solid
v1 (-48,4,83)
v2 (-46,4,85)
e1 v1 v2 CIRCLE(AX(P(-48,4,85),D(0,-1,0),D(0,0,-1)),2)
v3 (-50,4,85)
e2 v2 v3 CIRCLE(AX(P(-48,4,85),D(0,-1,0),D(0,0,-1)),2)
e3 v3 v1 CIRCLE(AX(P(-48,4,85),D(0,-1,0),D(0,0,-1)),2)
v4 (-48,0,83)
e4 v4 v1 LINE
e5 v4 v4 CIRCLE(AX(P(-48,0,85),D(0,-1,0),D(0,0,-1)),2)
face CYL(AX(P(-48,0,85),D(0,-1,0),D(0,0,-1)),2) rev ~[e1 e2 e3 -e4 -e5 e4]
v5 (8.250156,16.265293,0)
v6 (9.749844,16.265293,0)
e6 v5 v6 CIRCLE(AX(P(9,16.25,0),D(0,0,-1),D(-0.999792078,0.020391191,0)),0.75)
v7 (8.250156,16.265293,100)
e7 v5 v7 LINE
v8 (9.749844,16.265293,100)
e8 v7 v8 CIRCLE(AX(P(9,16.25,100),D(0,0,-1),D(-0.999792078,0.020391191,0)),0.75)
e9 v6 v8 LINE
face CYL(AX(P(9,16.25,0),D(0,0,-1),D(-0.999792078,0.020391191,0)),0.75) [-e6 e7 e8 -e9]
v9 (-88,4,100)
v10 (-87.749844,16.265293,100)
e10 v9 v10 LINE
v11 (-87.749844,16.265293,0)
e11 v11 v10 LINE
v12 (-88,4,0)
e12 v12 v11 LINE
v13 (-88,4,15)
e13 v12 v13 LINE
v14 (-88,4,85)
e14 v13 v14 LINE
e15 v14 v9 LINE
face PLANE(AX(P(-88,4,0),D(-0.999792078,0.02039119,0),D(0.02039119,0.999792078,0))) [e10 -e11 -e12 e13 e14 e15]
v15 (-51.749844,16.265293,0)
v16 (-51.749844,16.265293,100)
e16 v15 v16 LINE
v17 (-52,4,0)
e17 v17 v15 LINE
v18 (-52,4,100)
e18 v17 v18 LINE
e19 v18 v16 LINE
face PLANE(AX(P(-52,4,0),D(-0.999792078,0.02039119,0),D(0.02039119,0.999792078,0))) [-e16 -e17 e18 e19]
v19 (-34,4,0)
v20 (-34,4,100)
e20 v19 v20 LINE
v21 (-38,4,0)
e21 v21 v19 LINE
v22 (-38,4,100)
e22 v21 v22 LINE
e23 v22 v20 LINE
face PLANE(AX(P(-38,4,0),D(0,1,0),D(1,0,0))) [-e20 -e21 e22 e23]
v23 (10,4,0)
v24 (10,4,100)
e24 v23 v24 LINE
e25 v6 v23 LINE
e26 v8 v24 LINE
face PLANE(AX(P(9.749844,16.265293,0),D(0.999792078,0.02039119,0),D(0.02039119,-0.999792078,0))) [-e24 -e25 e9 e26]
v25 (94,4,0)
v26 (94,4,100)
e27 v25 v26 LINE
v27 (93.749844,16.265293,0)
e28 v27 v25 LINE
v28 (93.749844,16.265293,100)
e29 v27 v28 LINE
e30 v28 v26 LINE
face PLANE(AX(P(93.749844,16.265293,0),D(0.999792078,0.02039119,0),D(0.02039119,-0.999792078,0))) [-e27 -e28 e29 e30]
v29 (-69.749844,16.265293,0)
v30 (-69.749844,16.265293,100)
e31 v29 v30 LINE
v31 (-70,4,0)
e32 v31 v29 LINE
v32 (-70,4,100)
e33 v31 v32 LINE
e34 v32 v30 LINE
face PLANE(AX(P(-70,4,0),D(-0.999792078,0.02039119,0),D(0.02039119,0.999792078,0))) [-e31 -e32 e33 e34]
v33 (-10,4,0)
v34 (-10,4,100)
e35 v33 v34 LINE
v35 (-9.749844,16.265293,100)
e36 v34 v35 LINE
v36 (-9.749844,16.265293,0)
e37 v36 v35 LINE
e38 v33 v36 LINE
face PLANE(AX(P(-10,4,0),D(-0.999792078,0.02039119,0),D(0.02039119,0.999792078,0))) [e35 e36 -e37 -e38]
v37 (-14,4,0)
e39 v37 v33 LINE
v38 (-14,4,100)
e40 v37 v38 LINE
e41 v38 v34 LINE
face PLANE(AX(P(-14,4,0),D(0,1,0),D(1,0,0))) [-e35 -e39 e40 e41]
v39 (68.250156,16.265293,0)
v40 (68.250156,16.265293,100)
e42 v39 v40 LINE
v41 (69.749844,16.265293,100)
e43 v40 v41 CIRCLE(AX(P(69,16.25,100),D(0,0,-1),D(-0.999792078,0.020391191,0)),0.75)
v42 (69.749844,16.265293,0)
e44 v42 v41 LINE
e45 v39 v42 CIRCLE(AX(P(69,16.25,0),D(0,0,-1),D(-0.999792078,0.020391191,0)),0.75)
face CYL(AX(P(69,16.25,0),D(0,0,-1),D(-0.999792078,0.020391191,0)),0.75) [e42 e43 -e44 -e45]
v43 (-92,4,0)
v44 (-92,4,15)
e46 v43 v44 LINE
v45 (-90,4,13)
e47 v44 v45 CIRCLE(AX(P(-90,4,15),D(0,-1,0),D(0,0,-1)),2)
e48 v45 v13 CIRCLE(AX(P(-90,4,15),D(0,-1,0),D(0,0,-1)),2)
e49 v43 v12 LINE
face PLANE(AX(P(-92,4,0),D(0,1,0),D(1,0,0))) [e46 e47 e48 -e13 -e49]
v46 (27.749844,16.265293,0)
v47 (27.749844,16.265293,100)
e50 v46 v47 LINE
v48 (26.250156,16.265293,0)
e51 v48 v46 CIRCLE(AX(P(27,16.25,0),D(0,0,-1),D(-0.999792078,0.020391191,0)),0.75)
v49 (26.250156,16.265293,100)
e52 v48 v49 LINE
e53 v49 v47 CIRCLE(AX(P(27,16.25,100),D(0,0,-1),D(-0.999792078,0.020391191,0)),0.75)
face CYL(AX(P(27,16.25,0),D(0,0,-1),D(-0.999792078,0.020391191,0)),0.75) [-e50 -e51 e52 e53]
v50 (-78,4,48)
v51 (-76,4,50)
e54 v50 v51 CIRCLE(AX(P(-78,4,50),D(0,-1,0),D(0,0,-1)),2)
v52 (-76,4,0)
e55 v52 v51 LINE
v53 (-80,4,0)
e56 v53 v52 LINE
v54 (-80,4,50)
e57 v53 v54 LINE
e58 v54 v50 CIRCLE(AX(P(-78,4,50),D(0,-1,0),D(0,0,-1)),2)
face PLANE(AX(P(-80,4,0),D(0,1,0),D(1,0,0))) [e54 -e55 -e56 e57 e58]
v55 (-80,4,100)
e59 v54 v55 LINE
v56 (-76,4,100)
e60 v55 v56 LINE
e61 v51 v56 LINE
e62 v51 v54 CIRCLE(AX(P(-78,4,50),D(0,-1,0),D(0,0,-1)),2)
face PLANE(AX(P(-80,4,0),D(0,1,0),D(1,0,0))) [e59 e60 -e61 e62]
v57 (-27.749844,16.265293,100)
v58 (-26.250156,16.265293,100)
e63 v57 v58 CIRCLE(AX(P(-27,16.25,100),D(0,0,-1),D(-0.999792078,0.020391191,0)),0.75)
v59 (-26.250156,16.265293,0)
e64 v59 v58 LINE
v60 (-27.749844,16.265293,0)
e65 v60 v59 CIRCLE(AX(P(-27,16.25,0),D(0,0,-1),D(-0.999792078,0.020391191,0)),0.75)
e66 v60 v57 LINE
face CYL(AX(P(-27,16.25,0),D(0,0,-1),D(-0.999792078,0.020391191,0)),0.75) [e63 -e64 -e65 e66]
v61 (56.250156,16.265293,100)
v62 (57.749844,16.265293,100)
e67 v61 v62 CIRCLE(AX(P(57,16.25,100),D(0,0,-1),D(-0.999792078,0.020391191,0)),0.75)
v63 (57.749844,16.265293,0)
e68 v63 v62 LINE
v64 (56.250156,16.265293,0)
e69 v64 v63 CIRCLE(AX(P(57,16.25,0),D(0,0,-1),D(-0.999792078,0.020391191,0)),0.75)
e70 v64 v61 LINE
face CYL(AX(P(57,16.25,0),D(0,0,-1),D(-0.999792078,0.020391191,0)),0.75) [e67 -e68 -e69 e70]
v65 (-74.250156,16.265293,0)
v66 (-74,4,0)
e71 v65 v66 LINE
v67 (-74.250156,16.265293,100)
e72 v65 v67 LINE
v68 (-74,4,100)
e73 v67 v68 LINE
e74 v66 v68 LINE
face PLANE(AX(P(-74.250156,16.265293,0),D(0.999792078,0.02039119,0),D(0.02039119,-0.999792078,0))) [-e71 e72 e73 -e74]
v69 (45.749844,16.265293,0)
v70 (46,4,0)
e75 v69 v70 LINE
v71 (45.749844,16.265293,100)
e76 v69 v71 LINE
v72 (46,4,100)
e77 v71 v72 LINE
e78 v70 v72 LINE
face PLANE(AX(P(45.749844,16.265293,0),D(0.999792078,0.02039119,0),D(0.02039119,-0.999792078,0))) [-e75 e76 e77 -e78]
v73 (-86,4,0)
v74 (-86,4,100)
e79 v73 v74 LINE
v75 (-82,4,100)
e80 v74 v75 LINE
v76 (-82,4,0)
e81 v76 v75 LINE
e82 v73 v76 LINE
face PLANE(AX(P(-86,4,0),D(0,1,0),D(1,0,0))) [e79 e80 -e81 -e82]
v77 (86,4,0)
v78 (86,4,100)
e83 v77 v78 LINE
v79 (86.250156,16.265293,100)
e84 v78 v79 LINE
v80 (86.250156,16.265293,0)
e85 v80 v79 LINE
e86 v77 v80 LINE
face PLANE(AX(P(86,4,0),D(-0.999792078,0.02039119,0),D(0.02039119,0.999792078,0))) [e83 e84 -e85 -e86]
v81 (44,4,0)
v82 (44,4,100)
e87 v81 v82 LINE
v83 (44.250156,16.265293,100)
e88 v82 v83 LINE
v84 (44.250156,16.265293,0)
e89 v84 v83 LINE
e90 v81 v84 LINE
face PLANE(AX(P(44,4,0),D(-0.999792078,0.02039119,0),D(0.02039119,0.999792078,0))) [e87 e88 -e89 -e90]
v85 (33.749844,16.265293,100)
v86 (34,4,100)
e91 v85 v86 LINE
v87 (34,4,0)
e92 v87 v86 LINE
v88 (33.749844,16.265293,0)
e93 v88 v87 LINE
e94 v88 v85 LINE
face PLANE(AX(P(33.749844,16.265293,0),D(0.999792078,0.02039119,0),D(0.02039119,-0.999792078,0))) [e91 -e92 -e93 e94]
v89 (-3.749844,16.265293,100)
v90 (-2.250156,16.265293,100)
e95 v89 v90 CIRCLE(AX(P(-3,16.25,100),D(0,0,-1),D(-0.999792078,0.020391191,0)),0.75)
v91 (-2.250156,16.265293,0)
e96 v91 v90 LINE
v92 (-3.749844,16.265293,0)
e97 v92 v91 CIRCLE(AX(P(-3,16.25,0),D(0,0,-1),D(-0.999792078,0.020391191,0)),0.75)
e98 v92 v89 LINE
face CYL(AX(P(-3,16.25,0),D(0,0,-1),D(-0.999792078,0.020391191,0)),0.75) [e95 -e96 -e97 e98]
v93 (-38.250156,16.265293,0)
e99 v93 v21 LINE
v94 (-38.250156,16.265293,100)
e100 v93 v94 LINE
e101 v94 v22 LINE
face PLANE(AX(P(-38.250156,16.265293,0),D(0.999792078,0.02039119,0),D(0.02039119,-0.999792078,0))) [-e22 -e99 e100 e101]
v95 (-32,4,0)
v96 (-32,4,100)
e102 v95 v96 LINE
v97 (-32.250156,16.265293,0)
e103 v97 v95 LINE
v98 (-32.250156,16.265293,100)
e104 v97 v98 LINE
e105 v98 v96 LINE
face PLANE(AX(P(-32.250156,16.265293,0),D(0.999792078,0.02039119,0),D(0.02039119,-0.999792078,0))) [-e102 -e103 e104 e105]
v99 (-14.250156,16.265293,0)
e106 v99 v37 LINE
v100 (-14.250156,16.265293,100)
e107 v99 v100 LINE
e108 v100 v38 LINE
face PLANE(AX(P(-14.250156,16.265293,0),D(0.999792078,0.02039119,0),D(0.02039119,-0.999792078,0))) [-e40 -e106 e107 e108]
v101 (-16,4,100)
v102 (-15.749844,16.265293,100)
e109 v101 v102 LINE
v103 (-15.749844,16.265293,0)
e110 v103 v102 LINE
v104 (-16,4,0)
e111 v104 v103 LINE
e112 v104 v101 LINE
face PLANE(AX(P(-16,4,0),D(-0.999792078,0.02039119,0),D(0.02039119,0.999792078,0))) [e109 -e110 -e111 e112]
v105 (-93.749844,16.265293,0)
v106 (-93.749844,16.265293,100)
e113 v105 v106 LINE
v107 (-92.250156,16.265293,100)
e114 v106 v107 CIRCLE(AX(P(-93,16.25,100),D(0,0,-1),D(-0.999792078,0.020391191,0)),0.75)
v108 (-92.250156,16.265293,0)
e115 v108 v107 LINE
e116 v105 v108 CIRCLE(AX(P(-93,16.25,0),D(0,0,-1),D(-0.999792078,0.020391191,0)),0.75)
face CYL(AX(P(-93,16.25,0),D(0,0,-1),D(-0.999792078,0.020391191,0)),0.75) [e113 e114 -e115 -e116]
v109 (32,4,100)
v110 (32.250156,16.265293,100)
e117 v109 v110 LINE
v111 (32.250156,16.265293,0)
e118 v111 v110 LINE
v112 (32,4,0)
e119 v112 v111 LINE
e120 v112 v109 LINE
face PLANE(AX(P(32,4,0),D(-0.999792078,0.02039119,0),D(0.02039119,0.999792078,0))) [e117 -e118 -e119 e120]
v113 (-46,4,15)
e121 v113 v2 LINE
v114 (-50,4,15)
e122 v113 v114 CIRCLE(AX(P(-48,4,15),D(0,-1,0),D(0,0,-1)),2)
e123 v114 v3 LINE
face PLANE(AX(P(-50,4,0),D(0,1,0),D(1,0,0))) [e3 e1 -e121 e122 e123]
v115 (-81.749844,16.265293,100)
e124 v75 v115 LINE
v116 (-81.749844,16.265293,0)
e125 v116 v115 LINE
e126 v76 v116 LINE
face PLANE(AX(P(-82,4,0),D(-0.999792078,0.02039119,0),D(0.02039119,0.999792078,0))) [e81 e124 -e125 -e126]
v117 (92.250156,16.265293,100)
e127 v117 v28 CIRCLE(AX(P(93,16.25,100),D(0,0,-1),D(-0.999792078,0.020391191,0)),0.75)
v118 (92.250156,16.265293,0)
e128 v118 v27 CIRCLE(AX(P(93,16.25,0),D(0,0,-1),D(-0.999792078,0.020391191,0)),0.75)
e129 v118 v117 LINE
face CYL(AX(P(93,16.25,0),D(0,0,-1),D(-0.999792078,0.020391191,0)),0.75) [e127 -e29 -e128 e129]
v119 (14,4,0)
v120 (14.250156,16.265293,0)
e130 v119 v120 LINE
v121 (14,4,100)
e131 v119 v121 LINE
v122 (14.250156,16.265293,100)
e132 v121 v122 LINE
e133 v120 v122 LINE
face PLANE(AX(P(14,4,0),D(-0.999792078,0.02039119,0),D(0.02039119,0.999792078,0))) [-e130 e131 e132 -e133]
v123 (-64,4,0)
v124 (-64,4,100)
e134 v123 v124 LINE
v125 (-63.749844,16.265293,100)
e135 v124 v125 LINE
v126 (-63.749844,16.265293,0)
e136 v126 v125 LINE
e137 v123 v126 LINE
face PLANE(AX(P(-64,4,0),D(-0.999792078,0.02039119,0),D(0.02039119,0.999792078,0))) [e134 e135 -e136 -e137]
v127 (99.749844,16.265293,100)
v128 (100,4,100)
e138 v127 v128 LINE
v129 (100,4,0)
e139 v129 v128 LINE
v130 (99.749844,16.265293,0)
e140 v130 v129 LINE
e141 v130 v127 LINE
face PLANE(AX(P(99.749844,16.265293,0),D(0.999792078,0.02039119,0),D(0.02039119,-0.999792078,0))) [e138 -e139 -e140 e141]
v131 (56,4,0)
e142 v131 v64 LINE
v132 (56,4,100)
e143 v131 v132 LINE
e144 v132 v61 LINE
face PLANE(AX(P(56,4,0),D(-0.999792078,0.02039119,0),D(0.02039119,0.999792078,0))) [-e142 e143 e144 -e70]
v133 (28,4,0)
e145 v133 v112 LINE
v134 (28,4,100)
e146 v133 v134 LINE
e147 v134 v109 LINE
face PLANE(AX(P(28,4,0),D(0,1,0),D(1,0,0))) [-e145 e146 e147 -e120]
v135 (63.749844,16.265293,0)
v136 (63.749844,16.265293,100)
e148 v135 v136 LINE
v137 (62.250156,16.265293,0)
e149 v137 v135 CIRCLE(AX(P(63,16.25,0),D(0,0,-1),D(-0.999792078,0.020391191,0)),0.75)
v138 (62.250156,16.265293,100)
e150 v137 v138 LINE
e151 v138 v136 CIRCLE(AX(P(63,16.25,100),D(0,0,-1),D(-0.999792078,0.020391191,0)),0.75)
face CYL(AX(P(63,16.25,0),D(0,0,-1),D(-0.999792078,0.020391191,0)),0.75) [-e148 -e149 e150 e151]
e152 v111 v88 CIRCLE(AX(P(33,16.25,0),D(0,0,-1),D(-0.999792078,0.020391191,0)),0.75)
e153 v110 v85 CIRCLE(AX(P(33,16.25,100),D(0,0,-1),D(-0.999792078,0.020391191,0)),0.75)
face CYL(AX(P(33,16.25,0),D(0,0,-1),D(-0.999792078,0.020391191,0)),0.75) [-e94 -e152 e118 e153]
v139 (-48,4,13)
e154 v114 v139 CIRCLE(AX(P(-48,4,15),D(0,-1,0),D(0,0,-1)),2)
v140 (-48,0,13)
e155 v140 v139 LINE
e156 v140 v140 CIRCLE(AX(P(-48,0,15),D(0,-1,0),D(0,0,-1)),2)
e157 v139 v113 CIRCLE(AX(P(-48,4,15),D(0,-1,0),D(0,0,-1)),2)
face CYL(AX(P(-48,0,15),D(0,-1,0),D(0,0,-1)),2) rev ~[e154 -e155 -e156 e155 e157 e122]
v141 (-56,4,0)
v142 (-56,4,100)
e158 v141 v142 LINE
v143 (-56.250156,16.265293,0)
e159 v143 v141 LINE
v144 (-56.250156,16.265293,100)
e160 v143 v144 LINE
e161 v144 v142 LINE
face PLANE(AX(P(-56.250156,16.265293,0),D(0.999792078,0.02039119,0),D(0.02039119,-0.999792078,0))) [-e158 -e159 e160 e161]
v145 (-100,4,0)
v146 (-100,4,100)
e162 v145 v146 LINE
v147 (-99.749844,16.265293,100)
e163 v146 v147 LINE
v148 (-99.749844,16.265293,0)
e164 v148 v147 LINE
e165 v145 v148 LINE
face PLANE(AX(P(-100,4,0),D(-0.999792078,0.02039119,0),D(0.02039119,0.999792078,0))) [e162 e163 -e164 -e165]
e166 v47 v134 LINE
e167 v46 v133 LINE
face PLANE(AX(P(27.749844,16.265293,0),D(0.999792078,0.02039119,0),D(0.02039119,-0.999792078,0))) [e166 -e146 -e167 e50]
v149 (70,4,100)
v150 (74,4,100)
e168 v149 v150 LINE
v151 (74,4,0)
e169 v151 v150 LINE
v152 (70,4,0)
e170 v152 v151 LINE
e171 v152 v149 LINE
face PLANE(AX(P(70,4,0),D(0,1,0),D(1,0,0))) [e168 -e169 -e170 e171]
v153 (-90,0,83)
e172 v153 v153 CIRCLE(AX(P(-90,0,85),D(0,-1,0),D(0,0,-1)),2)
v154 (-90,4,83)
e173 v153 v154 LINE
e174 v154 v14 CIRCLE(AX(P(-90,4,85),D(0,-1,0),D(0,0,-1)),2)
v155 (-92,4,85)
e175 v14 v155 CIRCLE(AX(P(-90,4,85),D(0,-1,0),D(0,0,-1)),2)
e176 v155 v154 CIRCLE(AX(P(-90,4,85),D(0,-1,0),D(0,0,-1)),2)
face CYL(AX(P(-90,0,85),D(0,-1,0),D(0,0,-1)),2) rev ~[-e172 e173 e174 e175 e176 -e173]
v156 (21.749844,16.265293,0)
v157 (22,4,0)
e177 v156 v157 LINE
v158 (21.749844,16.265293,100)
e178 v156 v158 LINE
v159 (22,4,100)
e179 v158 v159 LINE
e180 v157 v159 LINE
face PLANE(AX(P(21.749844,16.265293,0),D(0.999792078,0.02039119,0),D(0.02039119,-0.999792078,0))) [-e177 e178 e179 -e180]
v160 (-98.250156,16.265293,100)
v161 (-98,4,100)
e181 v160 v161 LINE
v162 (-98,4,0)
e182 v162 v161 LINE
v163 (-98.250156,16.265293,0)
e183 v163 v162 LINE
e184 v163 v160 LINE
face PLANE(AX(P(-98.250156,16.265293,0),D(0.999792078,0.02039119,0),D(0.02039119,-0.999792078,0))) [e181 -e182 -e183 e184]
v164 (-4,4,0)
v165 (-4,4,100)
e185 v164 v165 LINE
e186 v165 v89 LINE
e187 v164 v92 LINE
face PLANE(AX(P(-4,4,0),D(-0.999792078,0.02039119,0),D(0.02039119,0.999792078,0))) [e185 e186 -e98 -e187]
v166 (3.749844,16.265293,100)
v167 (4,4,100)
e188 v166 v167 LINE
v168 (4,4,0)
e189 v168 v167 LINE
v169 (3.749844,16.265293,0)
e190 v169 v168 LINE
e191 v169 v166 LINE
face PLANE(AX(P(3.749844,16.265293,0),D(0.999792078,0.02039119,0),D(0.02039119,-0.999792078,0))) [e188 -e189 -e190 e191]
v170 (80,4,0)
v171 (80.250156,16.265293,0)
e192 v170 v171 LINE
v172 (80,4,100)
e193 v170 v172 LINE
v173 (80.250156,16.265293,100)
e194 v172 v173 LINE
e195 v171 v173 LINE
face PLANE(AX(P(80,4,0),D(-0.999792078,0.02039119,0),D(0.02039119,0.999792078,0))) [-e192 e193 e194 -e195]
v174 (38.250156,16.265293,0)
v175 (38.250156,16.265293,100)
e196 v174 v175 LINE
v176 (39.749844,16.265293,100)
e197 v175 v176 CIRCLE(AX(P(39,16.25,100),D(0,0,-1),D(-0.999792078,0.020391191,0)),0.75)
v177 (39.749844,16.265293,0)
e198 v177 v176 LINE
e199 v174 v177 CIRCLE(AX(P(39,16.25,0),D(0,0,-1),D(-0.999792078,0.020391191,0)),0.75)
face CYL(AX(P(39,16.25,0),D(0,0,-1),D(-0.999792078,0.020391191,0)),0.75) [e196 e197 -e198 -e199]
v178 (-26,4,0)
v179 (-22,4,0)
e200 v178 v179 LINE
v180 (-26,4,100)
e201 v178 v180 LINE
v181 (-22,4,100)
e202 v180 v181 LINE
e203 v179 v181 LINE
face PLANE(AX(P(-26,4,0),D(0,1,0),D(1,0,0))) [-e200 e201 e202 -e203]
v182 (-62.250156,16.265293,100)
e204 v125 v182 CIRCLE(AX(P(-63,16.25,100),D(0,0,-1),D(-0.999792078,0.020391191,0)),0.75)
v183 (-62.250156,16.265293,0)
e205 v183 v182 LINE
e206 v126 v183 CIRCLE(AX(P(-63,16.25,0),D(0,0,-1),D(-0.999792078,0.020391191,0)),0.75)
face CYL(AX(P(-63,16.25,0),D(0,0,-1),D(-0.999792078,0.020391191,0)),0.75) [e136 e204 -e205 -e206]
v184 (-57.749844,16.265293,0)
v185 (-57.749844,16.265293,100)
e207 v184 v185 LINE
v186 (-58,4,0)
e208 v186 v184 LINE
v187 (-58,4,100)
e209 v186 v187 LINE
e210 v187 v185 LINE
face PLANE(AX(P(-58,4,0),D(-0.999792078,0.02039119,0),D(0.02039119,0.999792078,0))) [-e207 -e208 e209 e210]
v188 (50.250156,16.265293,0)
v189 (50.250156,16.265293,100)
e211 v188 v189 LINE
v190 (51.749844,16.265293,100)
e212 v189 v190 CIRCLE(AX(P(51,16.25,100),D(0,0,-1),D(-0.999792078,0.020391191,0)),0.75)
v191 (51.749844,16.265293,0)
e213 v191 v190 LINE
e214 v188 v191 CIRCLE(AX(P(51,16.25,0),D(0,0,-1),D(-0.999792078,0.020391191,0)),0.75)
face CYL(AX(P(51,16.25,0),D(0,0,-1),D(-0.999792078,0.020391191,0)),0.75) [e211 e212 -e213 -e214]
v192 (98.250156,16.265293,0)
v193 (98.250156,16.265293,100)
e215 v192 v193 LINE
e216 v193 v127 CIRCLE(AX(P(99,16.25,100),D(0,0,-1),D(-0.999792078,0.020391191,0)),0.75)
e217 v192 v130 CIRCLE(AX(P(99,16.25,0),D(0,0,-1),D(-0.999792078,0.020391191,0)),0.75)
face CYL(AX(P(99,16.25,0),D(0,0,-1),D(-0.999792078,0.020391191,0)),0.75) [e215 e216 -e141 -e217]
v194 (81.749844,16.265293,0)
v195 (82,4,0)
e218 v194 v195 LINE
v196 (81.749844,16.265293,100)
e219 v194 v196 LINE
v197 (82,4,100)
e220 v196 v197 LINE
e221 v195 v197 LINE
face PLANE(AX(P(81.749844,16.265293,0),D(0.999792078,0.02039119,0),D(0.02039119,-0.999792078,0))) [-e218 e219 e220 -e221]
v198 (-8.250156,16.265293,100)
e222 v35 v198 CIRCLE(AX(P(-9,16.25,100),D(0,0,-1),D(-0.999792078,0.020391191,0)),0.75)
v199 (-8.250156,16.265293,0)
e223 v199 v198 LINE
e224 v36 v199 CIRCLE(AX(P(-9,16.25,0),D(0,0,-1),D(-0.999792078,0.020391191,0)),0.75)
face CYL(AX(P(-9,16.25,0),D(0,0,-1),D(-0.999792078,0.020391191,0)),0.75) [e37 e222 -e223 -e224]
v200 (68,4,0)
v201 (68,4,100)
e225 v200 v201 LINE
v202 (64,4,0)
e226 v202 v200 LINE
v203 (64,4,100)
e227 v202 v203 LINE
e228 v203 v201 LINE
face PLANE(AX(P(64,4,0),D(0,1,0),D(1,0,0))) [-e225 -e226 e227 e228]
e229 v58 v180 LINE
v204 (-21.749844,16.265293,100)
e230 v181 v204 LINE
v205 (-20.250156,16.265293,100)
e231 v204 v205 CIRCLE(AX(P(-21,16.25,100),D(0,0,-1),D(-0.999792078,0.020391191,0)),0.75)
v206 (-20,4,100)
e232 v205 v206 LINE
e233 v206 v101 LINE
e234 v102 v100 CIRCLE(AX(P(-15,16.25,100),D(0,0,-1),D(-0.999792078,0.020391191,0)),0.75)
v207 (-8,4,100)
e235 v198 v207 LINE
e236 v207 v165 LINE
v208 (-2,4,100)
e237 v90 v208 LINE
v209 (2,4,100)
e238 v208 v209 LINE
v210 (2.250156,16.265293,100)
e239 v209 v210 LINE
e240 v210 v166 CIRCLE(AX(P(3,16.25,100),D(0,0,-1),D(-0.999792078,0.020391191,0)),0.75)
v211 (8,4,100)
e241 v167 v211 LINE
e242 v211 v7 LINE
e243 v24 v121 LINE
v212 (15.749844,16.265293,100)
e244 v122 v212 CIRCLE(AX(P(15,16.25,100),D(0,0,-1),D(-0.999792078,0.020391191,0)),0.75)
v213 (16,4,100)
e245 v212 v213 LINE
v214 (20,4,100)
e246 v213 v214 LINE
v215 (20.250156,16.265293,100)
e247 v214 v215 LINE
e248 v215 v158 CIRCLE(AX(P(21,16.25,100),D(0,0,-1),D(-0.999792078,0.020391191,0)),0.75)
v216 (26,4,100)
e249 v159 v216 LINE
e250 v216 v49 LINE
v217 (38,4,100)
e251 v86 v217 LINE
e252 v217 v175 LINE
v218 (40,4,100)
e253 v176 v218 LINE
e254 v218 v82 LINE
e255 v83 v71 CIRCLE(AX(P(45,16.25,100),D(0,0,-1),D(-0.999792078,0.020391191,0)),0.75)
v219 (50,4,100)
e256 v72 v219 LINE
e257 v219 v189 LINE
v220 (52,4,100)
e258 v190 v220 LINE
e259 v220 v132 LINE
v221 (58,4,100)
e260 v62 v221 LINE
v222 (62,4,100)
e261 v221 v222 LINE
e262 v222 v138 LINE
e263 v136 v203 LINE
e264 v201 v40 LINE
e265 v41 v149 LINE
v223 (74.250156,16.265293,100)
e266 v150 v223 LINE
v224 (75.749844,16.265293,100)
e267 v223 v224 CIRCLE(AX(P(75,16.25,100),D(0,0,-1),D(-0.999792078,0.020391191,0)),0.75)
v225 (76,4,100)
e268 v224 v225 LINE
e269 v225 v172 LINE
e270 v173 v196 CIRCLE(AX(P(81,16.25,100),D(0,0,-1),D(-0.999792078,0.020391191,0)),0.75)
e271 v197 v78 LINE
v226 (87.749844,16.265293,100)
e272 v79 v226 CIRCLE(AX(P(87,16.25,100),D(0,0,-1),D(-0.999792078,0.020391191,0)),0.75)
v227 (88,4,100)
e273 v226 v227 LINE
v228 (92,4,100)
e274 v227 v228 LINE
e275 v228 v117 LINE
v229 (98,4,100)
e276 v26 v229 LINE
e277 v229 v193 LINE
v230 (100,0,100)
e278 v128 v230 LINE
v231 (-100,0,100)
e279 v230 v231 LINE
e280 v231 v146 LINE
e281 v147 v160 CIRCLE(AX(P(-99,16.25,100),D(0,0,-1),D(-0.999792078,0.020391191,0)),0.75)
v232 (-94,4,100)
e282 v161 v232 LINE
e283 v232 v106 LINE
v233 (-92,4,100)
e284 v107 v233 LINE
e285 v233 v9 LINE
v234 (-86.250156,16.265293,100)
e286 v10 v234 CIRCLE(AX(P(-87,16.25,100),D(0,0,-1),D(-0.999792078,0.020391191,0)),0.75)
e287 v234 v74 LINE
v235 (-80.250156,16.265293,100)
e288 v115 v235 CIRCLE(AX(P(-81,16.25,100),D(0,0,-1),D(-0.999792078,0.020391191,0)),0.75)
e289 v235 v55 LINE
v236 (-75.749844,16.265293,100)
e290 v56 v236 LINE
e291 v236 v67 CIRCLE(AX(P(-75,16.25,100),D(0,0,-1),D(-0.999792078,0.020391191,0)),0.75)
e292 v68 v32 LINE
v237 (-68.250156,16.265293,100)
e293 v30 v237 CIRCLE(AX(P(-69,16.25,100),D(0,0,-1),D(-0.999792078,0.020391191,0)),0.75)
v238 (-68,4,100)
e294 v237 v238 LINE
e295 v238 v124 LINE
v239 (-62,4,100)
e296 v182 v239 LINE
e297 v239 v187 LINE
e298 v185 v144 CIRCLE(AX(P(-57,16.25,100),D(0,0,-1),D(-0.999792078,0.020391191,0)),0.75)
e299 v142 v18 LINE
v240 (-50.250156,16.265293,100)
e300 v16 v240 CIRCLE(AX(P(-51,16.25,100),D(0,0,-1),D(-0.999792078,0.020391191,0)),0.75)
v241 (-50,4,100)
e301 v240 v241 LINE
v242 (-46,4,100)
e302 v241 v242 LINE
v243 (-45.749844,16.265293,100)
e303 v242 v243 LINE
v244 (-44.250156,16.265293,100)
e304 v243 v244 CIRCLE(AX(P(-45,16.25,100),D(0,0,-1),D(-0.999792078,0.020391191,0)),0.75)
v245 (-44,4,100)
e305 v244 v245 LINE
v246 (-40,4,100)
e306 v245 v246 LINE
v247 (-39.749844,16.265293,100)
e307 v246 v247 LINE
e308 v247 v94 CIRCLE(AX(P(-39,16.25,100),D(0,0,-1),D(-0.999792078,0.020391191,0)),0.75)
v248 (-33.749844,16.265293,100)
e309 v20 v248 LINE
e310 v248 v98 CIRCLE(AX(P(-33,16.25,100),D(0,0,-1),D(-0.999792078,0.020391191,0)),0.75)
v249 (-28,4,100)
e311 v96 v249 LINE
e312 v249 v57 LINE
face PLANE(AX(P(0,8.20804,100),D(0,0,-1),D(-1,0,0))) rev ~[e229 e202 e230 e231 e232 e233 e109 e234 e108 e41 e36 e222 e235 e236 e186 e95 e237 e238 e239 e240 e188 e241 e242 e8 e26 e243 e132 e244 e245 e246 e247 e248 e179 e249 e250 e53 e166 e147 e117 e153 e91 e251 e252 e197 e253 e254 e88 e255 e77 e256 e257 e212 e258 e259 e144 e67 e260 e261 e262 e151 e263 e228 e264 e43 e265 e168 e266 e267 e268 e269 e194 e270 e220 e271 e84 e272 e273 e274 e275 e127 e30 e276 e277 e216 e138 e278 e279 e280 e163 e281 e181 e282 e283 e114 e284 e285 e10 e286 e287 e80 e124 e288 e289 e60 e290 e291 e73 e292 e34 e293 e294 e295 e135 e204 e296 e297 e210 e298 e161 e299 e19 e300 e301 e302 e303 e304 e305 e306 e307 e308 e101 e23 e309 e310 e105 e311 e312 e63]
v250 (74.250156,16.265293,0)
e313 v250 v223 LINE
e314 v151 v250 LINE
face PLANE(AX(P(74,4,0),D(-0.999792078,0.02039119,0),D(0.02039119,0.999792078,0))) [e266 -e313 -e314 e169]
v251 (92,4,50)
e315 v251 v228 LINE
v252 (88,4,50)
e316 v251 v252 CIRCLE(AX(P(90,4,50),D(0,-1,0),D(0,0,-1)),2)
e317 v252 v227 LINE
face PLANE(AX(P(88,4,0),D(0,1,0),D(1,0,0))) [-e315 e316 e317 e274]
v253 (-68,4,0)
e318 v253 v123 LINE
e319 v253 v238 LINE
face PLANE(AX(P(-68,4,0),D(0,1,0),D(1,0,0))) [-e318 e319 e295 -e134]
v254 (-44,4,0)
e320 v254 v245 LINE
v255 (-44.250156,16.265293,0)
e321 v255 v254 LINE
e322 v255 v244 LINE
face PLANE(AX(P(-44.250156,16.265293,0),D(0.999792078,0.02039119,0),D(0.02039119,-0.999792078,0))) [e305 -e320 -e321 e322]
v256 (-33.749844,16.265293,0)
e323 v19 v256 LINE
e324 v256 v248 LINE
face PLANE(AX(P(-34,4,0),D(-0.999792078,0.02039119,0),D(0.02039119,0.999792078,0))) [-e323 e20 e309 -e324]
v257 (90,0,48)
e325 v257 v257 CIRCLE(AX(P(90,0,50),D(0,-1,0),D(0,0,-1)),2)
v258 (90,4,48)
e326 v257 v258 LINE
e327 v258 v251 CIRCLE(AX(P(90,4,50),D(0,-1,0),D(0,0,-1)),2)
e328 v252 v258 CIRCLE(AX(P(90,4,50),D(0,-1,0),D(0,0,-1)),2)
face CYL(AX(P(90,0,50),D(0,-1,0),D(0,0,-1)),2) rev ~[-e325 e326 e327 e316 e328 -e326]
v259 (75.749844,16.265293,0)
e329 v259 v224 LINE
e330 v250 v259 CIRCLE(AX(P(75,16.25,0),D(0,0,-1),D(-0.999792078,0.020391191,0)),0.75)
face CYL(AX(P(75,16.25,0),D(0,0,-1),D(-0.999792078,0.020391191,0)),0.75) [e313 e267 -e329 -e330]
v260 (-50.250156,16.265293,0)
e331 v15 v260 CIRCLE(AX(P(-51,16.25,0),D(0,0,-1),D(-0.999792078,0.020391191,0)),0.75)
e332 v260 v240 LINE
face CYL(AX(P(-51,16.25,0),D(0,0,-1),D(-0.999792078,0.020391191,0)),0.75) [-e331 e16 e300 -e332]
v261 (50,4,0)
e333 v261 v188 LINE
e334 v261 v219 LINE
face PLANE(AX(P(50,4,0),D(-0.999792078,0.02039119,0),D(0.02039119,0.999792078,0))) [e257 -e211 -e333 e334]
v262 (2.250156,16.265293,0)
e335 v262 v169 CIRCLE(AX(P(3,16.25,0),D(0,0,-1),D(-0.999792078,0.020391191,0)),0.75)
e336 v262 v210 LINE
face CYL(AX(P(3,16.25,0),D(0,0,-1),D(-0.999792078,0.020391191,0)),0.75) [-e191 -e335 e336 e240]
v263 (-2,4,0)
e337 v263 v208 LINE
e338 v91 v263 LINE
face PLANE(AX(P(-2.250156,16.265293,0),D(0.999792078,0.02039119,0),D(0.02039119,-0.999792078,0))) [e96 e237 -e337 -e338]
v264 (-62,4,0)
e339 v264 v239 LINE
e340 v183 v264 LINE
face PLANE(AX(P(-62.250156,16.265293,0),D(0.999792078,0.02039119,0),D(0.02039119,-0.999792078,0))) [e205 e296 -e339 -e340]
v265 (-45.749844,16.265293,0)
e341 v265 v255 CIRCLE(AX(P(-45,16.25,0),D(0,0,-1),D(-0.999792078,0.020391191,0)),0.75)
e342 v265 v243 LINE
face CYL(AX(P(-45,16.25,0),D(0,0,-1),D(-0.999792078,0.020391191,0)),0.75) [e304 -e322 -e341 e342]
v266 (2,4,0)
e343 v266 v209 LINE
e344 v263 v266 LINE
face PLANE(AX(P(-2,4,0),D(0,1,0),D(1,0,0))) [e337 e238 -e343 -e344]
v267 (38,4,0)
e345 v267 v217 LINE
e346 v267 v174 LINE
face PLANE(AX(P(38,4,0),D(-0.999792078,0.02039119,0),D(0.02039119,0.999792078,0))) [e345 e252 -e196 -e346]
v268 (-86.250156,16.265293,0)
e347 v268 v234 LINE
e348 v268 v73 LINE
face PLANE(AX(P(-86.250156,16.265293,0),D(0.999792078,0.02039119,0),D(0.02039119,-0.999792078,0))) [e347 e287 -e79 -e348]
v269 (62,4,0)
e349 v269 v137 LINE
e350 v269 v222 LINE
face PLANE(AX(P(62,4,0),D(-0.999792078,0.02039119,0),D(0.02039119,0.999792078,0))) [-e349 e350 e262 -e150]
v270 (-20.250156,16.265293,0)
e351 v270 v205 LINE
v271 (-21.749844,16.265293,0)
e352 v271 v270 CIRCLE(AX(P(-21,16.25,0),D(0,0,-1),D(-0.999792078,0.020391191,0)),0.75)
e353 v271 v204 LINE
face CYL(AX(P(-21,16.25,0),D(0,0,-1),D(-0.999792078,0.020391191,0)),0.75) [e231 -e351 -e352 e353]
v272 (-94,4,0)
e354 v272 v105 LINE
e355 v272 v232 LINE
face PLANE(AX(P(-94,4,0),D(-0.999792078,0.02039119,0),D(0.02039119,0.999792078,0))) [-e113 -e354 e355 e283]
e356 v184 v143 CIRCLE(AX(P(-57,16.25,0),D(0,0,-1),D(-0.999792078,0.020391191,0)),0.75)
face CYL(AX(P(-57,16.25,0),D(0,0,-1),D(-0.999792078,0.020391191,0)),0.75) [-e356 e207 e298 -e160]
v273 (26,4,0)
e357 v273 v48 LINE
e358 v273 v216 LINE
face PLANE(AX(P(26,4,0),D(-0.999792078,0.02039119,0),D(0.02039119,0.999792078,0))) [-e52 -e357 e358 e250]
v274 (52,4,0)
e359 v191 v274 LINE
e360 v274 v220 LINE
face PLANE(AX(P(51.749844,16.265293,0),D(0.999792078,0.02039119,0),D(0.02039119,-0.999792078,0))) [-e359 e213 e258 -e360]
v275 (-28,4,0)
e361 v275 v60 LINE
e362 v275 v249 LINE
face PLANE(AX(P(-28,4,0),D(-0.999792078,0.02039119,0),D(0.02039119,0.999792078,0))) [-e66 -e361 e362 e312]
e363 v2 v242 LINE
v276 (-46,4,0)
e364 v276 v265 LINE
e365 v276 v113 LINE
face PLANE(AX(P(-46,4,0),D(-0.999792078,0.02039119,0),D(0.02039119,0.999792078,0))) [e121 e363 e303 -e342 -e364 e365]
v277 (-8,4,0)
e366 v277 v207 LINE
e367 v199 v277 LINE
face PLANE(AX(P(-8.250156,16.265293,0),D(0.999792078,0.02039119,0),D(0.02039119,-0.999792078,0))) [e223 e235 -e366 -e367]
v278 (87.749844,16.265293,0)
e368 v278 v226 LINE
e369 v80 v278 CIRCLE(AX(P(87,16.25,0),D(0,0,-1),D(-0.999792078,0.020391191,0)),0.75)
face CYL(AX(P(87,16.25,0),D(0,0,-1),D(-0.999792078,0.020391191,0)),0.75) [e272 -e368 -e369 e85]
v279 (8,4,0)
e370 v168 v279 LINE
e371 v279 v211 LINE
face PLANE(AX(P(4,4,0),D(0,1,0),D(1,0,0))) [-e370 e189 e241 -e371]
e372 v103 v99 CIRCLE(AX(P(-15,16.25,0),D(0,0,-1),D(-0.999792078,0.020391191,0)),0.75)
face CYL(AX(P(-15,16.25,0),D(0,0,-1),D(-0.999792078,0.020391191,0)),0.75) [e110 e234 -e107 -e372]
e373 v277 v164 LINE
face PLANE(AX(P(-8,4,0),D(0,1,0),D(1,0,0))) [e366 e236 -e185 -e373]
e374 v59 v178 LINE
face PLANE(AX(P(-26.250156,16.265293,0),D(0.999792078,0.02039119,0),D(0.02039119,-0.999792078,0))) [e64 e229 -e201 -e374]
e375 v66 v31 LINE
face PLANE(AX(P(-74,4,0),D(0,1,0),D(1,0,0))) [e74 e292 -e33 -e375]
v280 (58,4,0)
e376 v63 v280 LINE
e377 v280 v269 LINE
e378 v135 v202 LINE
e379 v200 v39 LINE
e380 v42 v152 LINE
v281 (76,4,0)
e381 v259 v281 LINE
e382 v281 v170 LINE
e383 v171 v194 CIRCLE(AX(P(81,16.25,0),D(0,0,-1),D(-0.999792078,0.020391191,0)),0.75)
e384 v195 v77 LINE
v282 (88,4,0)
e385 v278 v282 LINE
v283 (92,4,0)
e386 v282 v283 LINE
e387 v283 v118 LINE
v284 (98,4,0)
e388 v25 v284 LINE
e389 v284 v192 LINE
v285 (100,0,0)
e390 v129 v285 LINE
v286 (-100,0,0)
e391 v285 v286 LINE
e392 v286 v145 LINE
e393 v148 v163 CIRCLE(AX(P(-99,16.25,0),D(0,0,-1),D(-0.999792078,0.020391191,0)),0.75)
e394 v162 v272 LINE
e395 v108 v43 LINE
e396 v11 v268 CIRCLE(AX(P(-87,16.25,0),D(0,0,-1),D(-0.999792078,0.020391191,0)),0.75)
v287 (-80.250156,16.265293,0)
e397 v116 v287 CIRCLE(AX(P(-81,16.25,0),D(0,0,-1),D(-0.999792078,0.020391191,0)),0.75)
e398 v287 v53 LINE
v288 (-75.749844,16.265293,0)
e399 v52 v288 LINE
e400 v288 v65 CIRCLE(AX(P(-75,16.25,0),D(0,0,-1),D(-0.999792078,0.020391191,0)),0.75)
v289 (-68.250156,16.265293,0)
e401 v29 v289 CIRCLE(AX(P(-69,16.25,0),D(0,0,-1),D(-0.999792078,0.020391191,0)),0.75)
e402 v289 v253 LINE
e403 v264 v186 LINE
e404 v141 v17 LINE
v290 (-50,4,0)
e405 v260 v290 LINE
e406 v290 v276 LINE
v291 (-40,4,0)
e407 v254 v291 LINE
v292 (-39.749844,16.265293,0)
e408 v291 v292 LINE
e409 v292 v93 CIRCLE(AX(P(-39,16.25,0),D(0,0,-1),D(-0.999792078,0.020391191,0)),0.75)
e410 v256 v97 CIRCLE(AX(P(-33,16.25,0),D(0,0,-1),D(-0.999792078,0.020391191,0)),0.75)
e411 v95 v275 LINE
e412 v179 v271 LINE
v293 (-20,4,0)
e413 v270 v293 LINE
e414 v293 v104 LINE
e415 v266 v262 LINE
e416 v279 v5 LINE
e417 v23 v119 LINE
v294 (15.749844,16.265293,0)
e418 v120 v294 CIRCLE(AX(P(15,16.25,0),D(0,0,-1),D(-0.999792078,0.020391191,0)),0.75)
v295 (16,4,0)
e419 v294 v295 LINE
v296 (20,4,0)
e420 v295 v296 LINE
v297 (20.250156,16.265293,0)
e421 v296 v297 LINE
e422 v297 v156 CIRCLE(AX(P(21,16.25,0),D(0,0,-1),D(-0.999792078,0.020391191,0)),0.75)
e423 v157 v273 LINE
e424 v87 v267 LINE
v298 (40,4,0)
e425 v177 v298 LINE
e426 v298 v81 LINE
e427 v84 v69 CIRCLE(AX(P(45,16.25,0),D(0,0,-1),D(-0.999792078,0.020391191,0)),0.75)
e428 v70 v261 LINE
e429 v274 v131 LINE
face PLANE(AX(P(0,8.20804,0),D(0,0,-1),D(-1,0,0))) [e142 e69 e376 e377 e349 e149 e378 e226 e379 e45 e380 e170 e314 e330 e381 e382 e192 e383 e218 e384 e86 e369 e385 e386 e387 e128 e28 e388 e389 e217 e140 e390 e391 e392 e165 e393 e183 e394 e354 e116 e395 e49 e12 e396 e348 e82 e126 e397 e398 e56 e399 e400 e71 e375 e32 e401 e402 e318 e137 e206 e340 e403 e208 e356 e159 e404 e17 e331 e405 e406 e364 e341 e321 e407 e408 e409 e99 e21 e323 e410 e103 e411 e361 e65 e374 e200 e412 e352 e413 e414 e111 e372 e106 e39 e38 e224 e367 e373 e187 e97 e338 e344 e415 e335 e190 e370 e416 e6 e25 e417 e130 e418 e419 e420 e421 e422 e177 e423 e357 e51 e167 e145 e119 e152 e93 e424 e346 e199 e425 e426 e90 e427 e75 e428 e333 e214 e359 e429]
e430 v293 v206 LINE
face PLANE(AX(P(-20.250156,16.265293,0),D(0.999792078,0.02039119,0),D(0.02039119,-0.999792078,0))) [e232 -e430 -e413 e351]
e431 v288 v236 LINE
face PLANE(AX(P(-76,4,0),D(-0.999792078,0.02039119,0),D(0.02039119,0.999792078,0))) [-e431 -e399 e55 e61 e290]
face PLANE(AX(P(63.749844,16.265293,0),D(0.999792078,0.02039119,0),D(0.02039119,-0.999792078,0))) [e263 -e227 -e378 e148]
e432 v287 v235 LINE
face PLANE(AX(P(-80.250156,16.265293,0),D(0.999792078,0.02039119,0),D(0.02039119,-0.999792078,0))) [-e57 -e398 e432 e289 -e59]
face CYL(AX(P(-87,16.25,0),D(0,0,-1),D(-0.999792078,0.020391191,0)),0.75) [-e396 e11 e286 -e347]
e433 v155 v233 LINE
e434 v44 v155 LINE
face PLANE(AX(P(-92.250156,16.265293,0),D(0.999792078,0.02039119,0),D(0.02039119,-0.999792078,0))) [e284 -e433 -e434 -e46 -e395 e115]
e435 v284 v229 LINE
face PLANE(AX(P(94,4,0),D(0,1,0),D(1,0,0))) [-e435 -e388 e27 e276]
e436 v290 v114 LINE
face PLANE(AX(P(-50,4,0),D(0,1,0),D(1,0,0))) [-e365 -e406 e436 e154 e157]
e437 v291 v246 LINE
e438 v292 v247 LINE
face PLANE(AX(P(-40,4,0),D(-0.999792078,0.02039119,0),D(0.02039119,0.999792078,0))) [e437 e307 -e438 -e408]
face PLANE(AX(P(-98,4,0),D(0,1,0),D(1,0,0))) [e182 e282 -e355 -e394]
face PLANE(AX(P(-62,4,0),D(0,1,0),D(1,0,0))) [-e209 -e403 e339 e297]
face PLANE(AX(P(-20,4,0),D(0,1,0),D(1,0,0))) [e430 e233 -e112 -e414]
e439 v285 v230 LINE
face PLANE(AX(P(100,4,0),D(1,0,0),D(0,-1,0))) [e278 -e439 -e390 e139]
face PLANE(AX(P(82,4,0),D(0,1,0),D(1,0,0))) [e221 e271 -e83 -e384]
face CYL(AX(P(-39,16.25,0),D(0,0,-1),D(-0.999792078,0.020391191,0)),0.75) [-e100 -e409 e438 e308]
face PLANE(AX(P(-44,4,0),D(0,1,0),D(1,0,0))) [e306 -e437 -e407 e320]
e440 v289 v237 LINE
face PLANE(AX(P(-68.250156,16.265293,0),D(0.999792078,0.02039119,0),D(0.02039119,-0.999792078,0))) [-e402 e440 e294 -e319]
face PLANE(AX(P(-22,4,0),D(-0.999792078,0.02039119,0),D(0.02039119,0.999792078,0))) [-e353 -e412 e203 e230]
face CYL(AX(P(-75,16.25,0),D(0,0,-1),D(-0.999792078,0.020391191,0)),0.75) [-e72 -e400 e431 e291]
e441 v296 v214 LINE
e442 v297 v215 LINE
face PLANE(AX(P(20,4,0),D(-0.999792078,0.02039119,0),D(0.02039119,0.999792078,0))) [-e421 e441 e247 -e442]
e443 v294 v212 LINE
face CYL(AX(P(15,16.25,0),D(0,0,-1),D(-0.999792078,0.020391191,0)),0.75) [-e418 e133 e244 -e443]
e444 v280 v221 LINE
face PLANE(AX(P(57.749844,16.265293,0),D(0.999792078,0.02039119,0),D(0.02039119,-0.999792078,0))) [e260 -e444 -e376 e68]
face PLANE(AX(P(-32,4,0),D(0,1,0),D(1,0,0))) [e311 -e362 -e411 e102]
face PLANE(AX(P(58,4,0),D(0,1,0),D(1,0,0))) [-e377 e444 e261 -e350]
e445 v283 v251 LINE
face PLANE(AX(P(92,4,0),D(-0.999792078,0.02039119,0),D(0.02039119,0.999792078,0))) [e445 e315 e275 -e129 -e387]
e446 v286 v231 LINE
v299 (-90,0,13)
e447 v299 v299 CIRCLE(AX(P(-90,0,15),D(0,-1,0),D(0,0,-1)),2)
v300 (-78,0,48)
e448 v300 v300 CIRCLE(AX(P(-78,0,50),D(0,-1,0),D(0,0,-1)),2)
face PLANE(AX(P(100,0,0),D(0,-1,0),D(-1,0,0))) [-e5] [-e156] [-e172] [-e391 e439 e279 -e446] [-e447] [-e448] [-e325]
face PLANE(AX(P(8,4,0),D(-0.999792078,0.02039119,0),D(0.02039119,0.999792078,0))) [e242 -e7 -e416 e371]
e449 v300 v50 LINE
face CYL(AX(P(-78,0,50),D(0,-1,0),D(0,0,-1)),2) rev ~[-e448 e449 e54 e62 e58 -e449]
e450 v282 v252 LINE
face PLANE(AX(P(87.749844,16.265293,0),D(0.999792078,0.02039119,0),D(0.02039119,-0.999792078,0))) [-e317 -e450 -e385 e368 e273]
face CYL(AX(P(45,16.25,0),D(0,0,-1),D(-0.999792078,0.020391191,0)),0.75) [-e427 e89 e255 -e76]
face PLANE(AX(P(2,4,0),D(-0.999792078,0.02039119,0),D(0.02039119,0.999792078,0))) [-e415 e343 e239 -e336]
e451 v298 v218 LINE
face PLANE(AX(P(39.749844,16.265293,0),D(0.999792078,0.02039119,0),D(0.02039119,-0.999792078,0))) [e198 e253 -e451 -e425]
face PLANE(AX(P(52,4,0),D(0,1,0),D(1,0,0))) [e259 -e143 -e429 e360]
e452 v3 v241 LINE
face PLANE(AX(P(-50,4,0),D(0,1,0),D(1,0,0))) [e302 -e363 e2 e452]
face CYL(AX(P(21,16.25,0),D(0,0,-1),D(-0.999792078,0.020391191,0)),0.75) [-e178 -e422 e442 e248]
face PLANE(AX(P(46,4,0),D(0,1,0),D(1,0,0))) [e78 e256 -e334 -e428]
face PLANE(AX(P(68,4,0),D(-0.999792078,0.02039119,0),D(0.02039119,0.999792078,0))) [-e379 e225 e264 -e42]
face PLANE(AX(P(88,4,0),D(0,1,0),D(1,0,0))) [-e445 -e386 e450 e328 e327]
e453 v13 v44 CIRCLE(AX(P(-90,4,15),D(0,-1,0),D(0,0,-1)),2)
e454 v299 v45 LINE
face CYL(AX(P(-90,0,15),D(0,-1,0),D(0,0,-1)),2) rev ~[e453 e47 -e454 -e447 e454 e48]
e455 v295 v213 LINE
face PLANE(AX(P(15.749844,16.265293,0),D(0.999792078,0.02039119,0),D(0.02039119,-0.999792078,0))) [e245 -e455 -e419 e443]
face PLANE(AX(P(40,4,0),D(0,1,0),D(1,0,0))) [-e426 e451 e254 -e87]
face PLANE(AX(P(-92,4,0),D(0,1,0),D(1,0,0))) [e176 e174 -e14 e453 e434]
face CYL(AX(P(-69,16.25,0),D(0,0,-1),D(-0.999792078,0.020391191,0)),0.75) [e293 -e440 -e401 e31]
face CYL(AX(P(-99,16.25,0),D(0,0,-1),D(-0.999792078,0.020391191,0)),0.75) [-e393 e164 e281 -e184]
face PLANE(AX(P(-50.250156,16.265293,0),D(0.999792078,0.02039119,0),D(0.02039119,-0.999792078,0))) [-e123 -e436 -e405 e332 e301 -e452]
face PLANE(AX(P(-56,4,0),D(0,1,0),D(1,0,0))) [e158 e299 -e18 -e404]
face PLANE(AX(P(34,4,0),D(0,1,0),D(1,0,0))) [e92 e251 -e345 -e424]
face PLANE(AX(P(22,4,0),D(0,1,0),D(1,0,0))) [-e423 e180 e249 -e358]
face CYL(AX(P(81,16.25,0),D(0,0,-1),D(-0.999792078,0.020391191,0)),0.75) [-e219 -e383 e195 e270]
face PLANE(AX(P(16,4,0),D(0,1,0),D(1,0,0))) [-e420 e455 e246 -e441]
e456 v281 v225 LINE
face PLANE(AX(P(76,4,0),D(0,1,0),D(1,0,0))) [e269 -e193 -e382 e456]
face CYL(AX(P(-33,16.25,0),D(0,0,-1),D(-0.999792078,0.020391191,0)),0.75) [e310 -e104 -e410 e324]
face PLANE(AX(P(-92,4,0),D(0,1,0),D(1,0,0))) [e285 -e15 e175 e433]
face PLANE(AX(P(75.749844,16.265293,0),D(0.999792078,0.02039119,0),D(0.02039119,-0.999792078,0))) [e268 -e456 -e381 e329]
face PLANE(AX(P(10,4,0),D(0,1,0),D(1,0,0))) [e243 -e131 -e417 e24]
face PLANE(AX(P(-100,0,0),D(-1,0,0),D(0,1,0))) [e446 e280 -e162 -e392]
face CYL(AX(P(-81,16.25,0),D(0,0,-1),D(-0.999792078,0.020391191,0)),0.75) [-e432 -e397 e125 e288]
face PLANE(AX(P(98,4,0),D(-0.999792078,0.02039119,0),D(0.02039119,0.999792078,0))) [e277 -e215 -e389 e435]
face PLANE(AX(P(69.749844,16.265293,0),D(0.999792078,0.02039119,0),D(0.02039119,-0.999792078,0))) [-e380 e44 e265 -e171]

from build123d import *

# Parameters (mm, degrees)
EXTRUDE_2_DEPTH     = 100
SKETCH_1_R          = 2
CUT_EXTRUDE_1_DEPTH = 143.439460825
SKETCH_2_R          = 2
CUT_EXTRUDE_2_DEPTH = 143.439460825


with BuildPart() as part:
    # 17F200L100 → ﾎﾞｽ - 押し出し2 (new body)
    with BuildSketch(Plane.XY):
        with BuildLine():
            Line((-98, 4), (-94, 4))
            Line((-94, 4), (-93.749844059, 16.265293393))
            ThreePointArc((-93.749844059, 16.265293393), (-93, 17), (-92.250155941, 16.265293393))
            Line((-92.250155941, 16.265293393), (-92, 4))
            Line((-92, 4), (-88, 4))
            Line((-88, 4), (-87.749844059, 16.265293393))
            ThreePointArc((-87.749844059, 16.265293393), (-87, 17), (-86.250155941, 16.265293393))
            Line((-86.250155941, 16.265293393), (-86, 4))
            Line((-86, 4), (-82, 4))
            Line((-82, 4), (-81.749844059, 16.265293393))
            ThreePointArc((-81.749844059, 16.265293393), (-81, 17), (-80.250155941, 16.265293393))
            Line((-80.250155941, 16.265293393), (-80, 4))
            Line((-80, 4), (-76, 4))
            Line((-76, 4), (-75.749844059, 16.265293393))
            ThreePointArc((-75.749844059, 16.265293393), (-75, 17), (-74.250155941, 16.265293393))
            Line((-74.250155941, 16.265293393), (-74, 4))
            Line((-74, 4), (-70, 4))
            Line((-70, 4), (-69.749844059, 16.265293393))
            ThreePointArc((-69.749844059, 16.265293393), (-69, 17), (-68.250155941, 16.265293393))
            Line((-68.250155941, 16.265293393), (-68, 4))
            Line((-68, 4), (-64, 4))
            Line((-64, 4), (-63.749844059, 16.265293393))
            ThreePointArc((-63.749844059, 16.265293393), (-63, 17), (-62.250155941, 16.265293393))
            Line((-62.250155941, 16.265293393), (-62, 4))
            Line((-62, 4), (-58, 4))
            Line((-58, 4), (-57.749844059, 16.265293393))
            ThreePointArc((-57.749844059, 16.265293393), (-57, 17), (-56.250155941, 16.265293393))
            Line((-56.250155941, 16.265293393), (-56, 4))
            Line((-56, 4), (-52, 4))
            Line((-52, 4), (-51.749844059, 16.265293393))
            ThreePointArc((-51.749844059, 16.265293393), (-51, 17), (-50.250155941, 16.265293393))
            Line((-50.250155941, 16.265293393), (-50, 4))
            Line((-50, 4), (-46, 4))
            Line((-46, 4), (-45.749844059, 16.265293393))
            ThreePointArc((-45.749844059, 16.265293393), (-45, 17), (-44.250155941, 16.265293393))
            Line((-44.250155941, 16.265293393), (-44, 4))
            Line((-44, 4), (-40, 4))
            Line((-40, 4), (-39.749844059, 16.265293393))
            ThreePointArc((-39.749844059, 16.265293393), (-39, 17), (-38.250155941, 16.265293393))
            Line((-38.250155941, 16.265293393), (-38, 4))
            Line((-38, 4), (-34, 4))
            Line((-34, 4), (-33.749844059, 16.265293393))
            ThreePointArc((-33.749844059, 16.265293393), (-33, 17), (-32.250155941, 16.265293393))
            Line((-32.250155941, 16.265293393), (-32, 4))
            Line((-32, 4), (-28, 4))
            Line((-28, 4), (-27.749844059, 16.265293393))
            ThreePointArc((-27.749844059, 16.265293393), (-27, 17), (-26.250155941, 16.265293393))
            Line((-26.250155941, 16.265293393), (-26, 4))
            Line((-26, 4), (-22, 4))
            Line((-22, 4), (-21.749844059, 16.265293393))
            ThreePointArc((-21.749844059, 16.265293393), (-21, 17), (-20.250155941, 16.265293393))
            Line((-20.250155941, 16.265293393), (-20, 4))
            Line((-20, 4), (-16, 4))
            Line((-16, 4), (-15.749844059, 16.265293393))
            ThreePointArc((-15.749844059, 16.265293393), (-15, 17), (-14.250155941, 16.265293393))
            Line((-14.250155941, 16.265293393), (-14, 4))
            Line((-14, 4), (-10, 4))
            Line((-10, 4), (-9.749844059, 16.265293393))
            ThreePointArc((-9.749844059, 16.265293393), (-9, 17), (-8.250155941, 16.265293393))
            Line((-8.250155941, 16.265293393), (-8, 4))
            Line((-8, 4), (-4, 4))
            Line((-4, 4), (-3.749844059, 16.265293393))
            ThreePointArc((-3.749844059, 16.265293393), (-3, 17), (-2.250155941, 16.265293393))
            Line((-2.250155941, 16.265293393), (-2, 4))
            Line((-2, 4), (2, 4))
            Line((2, 4), (2.250155941, 16.265293393))
            ThreePointArc((2.250155941, 16.265293393), (3, 17), (3.749844059, 16.265293393))
            Line((3.749844059, 16.265293393), (4, 4))
            Line((4, 4), (8, 4))
            Line((8, 4), (8.250155941, 16.265293393))
            ThreePointArc((8.250155941, 16.265293393), (9, 17), (9.749844059, 16.265293393))
            Line((9.749844059, 16.265293393), (10, 4))
            Line((10, 4), (14, 4))
            Line((14, 4), (14.250155941, 16.265293393))
            ThreePointArc((14.250155941, 16.265293393), (15, 17), (15.749844059, 16.265293393))
            Line((15.749844059, 16.265293393), (16, 4))
            Line((16, 4), (20, 4))
            Line((20, 4), (20.250155941, 16.265293393))
            ThreePointArc((20.250155941, 16.265293393), (21, 17), (21.749844059, 16.265293393))
            Line((21.749844059, 16.265293393), (22, 4))
            Line((22, 4), (26, 4))
            Line((26, 4), (26.250155941, 16.265293393))
            ThreePointArc((26.250155941, 16.265293393), (27, 17), (27.749844059, 16.265293393))
            Line((27.749844059, 16.265293393), (28, 4))
            Line((28, 4), (32, 4))
            Line((32, 4), (32.250155941, 16.265293393))
            ThreePointArc((32.250155941, 16.265293393), (33, 17), (33.749844059, 16.265293393))
            Line((33.749844059, 16.265293393), (34, 4))
            Line((34, 4), (38, 4))
            Line((38, 4), (38.250155941, 16.265293393))
            ThreePointArc((38.250155941, 16.265293393), (39, 17), (39.749844059, 16.265293393))
            Line((39.749844059, 16.265293393), (40, 4))
            Line((40, 4), (44, 4))
            Line((44, 4), (44.250155941, 16.265293393))
            ThreePointArc((44.250155941, 16.265293393), (45, 17), (45.749844059, 16.265293393))
            Line((45.749844059, 16.265293393), (46, 4))
            Line((46, 4), (50, 4))
            Line((50, 4), (50.250155941, 16.265293393))
            ThreePointArc((50.250155941, 16.265293393), (51, 17), (51.749844059, 16.265293393))
            Line((51.749844059, 16.265293393), (52, 4))
            Line((52, 4), (56, 4))
            Line((56, 4), (56.250155941, 16.265293393))
            ThreePointArc((56.250155941, 16.265293393), (57, 17), (57.749844059, 16.265293393))
            Line((57.749844059, 16.265293393), (58, 4))
            Line((58, 4), (62, 4))
            Line((62, 4), (62.250155941, 16.265293393))
            ThreePointArc((62.250155941, 16.265293393), (63, 17), (63.749844059, 16.265293393))
            Line((63.749844059, 16.265293393), (64, 4))
            Line((64, 4), (68, 4))
            Line((68, 4), (68.250155941, 16.265293393))
            ThreePointArc((68.250155941, 16.265293393), (69, 17), (69.749844059, 16.265293393))
            Line((69.749844059, 16.265293393), (70, 4))
            Line((70, 4), (74, 4))
            Line((74, 4), (74.250155941, 16.265293393))
            ThreePointArc((74.250155941, 16.265293393), (75, 17), (75.749844059, 16.265293393))
            Line((75.749844059, 16.265293393), (76, 4))
            Line((76, 4), (80, 4))
            Line((80, 4), (80.250155941, 16.265293393))
            ThreePointArc((80.250155941, 16.265293393), (81, 17), (81.749844059, 16.265293393))
            Line((81.749844059, 16.265293393), (82, 4))
            Line((82, 4), (86, 4))
            Line((86, 4), (86.250155941, 16.265293393))
            ThreePointArc((86.250155941, 16.265293393), (87, 17), (87.749844059, 16.265293393))
            Line((87.749844059, 16.265293393), (88, 4))
            Line((88, 4), (92, 4))
            Line((92, 4), (92.250155941, 16.265293393))
            ThreePointArc((92.250155941, 16.265293393), (93, 17), (93.749844059, 16.265293393))
            Line((93.749844059, 16.265293393), (94, 4))
            Line((94, 4), (98, 4))
            Line((98, 4), (98.250155941, 16.265293393))
            ThreePointArc((98.250155941, 16.265293393), (99, 17), (99.749844059, 16.265293393))
            Line((99.749844059, 16.265293393), (100, 4))
            Line((100, 4), (100, 0))
            Line((100, 0), (-100, 0))
            Line((-100, 0), (-100, 4))
            Line((-100, 4), (-99.749844059, 16.265293393))
            ThreePointArc((-99.749844059, 16.265293393), (-99, 17), (-98.250155941, 16.265293393))
            Line((-98.250155941, 16.265293393), (-98, 4))
        make_face()
    extrude(amount=EXTRUDE_2_DEPTH)

    # ｽｹｯﾁ1 → ｶｯﾄ - 押し出し1 (cut, through all)
    with BuildSketch(Plane.XZ):
        with Locations(Location((-78, 50, 0), (0, 0, 270))):
            Circle(SKETCH_1_R)
        with Locations(Location((90, 50, 0), (0, 0, 270))):
            Circle(SKETCH_1_R)
    extrude(amount=-CUT_EXTRUDE_1_DEPTH, mode=Mode.SUBTRACT)

    # ｽｹｯﾁ2 → ｶｯﾄ - 押し出し2 (cut, through all)
    with BuildSketch(Plane(origin=(0, 0, 0), x_dir=(-1, 0, 0), z_dir=(0, -1, 0))):
        with Locations(Location((48, -85, 0), (0, 0, 90))):
            Circle(SKETCH_2_R)
        with Locations(Location((48, -15, 0), (0, 0, 90))):
            Circle(SKETCH_2_R)
        with Locations(Location((90, -85, 0), (0, 0, 90))):
            Circle(SKETCH_2_R)
        with Locations(Location((90, -15, 0), (0, 0, 90))):
            Circle(SKETCH_2_R)
    extrude(amount=-CUT_EXTRUDE_2_DEPTH, mode=Mode.SUBTRACT)


solid = part.part
